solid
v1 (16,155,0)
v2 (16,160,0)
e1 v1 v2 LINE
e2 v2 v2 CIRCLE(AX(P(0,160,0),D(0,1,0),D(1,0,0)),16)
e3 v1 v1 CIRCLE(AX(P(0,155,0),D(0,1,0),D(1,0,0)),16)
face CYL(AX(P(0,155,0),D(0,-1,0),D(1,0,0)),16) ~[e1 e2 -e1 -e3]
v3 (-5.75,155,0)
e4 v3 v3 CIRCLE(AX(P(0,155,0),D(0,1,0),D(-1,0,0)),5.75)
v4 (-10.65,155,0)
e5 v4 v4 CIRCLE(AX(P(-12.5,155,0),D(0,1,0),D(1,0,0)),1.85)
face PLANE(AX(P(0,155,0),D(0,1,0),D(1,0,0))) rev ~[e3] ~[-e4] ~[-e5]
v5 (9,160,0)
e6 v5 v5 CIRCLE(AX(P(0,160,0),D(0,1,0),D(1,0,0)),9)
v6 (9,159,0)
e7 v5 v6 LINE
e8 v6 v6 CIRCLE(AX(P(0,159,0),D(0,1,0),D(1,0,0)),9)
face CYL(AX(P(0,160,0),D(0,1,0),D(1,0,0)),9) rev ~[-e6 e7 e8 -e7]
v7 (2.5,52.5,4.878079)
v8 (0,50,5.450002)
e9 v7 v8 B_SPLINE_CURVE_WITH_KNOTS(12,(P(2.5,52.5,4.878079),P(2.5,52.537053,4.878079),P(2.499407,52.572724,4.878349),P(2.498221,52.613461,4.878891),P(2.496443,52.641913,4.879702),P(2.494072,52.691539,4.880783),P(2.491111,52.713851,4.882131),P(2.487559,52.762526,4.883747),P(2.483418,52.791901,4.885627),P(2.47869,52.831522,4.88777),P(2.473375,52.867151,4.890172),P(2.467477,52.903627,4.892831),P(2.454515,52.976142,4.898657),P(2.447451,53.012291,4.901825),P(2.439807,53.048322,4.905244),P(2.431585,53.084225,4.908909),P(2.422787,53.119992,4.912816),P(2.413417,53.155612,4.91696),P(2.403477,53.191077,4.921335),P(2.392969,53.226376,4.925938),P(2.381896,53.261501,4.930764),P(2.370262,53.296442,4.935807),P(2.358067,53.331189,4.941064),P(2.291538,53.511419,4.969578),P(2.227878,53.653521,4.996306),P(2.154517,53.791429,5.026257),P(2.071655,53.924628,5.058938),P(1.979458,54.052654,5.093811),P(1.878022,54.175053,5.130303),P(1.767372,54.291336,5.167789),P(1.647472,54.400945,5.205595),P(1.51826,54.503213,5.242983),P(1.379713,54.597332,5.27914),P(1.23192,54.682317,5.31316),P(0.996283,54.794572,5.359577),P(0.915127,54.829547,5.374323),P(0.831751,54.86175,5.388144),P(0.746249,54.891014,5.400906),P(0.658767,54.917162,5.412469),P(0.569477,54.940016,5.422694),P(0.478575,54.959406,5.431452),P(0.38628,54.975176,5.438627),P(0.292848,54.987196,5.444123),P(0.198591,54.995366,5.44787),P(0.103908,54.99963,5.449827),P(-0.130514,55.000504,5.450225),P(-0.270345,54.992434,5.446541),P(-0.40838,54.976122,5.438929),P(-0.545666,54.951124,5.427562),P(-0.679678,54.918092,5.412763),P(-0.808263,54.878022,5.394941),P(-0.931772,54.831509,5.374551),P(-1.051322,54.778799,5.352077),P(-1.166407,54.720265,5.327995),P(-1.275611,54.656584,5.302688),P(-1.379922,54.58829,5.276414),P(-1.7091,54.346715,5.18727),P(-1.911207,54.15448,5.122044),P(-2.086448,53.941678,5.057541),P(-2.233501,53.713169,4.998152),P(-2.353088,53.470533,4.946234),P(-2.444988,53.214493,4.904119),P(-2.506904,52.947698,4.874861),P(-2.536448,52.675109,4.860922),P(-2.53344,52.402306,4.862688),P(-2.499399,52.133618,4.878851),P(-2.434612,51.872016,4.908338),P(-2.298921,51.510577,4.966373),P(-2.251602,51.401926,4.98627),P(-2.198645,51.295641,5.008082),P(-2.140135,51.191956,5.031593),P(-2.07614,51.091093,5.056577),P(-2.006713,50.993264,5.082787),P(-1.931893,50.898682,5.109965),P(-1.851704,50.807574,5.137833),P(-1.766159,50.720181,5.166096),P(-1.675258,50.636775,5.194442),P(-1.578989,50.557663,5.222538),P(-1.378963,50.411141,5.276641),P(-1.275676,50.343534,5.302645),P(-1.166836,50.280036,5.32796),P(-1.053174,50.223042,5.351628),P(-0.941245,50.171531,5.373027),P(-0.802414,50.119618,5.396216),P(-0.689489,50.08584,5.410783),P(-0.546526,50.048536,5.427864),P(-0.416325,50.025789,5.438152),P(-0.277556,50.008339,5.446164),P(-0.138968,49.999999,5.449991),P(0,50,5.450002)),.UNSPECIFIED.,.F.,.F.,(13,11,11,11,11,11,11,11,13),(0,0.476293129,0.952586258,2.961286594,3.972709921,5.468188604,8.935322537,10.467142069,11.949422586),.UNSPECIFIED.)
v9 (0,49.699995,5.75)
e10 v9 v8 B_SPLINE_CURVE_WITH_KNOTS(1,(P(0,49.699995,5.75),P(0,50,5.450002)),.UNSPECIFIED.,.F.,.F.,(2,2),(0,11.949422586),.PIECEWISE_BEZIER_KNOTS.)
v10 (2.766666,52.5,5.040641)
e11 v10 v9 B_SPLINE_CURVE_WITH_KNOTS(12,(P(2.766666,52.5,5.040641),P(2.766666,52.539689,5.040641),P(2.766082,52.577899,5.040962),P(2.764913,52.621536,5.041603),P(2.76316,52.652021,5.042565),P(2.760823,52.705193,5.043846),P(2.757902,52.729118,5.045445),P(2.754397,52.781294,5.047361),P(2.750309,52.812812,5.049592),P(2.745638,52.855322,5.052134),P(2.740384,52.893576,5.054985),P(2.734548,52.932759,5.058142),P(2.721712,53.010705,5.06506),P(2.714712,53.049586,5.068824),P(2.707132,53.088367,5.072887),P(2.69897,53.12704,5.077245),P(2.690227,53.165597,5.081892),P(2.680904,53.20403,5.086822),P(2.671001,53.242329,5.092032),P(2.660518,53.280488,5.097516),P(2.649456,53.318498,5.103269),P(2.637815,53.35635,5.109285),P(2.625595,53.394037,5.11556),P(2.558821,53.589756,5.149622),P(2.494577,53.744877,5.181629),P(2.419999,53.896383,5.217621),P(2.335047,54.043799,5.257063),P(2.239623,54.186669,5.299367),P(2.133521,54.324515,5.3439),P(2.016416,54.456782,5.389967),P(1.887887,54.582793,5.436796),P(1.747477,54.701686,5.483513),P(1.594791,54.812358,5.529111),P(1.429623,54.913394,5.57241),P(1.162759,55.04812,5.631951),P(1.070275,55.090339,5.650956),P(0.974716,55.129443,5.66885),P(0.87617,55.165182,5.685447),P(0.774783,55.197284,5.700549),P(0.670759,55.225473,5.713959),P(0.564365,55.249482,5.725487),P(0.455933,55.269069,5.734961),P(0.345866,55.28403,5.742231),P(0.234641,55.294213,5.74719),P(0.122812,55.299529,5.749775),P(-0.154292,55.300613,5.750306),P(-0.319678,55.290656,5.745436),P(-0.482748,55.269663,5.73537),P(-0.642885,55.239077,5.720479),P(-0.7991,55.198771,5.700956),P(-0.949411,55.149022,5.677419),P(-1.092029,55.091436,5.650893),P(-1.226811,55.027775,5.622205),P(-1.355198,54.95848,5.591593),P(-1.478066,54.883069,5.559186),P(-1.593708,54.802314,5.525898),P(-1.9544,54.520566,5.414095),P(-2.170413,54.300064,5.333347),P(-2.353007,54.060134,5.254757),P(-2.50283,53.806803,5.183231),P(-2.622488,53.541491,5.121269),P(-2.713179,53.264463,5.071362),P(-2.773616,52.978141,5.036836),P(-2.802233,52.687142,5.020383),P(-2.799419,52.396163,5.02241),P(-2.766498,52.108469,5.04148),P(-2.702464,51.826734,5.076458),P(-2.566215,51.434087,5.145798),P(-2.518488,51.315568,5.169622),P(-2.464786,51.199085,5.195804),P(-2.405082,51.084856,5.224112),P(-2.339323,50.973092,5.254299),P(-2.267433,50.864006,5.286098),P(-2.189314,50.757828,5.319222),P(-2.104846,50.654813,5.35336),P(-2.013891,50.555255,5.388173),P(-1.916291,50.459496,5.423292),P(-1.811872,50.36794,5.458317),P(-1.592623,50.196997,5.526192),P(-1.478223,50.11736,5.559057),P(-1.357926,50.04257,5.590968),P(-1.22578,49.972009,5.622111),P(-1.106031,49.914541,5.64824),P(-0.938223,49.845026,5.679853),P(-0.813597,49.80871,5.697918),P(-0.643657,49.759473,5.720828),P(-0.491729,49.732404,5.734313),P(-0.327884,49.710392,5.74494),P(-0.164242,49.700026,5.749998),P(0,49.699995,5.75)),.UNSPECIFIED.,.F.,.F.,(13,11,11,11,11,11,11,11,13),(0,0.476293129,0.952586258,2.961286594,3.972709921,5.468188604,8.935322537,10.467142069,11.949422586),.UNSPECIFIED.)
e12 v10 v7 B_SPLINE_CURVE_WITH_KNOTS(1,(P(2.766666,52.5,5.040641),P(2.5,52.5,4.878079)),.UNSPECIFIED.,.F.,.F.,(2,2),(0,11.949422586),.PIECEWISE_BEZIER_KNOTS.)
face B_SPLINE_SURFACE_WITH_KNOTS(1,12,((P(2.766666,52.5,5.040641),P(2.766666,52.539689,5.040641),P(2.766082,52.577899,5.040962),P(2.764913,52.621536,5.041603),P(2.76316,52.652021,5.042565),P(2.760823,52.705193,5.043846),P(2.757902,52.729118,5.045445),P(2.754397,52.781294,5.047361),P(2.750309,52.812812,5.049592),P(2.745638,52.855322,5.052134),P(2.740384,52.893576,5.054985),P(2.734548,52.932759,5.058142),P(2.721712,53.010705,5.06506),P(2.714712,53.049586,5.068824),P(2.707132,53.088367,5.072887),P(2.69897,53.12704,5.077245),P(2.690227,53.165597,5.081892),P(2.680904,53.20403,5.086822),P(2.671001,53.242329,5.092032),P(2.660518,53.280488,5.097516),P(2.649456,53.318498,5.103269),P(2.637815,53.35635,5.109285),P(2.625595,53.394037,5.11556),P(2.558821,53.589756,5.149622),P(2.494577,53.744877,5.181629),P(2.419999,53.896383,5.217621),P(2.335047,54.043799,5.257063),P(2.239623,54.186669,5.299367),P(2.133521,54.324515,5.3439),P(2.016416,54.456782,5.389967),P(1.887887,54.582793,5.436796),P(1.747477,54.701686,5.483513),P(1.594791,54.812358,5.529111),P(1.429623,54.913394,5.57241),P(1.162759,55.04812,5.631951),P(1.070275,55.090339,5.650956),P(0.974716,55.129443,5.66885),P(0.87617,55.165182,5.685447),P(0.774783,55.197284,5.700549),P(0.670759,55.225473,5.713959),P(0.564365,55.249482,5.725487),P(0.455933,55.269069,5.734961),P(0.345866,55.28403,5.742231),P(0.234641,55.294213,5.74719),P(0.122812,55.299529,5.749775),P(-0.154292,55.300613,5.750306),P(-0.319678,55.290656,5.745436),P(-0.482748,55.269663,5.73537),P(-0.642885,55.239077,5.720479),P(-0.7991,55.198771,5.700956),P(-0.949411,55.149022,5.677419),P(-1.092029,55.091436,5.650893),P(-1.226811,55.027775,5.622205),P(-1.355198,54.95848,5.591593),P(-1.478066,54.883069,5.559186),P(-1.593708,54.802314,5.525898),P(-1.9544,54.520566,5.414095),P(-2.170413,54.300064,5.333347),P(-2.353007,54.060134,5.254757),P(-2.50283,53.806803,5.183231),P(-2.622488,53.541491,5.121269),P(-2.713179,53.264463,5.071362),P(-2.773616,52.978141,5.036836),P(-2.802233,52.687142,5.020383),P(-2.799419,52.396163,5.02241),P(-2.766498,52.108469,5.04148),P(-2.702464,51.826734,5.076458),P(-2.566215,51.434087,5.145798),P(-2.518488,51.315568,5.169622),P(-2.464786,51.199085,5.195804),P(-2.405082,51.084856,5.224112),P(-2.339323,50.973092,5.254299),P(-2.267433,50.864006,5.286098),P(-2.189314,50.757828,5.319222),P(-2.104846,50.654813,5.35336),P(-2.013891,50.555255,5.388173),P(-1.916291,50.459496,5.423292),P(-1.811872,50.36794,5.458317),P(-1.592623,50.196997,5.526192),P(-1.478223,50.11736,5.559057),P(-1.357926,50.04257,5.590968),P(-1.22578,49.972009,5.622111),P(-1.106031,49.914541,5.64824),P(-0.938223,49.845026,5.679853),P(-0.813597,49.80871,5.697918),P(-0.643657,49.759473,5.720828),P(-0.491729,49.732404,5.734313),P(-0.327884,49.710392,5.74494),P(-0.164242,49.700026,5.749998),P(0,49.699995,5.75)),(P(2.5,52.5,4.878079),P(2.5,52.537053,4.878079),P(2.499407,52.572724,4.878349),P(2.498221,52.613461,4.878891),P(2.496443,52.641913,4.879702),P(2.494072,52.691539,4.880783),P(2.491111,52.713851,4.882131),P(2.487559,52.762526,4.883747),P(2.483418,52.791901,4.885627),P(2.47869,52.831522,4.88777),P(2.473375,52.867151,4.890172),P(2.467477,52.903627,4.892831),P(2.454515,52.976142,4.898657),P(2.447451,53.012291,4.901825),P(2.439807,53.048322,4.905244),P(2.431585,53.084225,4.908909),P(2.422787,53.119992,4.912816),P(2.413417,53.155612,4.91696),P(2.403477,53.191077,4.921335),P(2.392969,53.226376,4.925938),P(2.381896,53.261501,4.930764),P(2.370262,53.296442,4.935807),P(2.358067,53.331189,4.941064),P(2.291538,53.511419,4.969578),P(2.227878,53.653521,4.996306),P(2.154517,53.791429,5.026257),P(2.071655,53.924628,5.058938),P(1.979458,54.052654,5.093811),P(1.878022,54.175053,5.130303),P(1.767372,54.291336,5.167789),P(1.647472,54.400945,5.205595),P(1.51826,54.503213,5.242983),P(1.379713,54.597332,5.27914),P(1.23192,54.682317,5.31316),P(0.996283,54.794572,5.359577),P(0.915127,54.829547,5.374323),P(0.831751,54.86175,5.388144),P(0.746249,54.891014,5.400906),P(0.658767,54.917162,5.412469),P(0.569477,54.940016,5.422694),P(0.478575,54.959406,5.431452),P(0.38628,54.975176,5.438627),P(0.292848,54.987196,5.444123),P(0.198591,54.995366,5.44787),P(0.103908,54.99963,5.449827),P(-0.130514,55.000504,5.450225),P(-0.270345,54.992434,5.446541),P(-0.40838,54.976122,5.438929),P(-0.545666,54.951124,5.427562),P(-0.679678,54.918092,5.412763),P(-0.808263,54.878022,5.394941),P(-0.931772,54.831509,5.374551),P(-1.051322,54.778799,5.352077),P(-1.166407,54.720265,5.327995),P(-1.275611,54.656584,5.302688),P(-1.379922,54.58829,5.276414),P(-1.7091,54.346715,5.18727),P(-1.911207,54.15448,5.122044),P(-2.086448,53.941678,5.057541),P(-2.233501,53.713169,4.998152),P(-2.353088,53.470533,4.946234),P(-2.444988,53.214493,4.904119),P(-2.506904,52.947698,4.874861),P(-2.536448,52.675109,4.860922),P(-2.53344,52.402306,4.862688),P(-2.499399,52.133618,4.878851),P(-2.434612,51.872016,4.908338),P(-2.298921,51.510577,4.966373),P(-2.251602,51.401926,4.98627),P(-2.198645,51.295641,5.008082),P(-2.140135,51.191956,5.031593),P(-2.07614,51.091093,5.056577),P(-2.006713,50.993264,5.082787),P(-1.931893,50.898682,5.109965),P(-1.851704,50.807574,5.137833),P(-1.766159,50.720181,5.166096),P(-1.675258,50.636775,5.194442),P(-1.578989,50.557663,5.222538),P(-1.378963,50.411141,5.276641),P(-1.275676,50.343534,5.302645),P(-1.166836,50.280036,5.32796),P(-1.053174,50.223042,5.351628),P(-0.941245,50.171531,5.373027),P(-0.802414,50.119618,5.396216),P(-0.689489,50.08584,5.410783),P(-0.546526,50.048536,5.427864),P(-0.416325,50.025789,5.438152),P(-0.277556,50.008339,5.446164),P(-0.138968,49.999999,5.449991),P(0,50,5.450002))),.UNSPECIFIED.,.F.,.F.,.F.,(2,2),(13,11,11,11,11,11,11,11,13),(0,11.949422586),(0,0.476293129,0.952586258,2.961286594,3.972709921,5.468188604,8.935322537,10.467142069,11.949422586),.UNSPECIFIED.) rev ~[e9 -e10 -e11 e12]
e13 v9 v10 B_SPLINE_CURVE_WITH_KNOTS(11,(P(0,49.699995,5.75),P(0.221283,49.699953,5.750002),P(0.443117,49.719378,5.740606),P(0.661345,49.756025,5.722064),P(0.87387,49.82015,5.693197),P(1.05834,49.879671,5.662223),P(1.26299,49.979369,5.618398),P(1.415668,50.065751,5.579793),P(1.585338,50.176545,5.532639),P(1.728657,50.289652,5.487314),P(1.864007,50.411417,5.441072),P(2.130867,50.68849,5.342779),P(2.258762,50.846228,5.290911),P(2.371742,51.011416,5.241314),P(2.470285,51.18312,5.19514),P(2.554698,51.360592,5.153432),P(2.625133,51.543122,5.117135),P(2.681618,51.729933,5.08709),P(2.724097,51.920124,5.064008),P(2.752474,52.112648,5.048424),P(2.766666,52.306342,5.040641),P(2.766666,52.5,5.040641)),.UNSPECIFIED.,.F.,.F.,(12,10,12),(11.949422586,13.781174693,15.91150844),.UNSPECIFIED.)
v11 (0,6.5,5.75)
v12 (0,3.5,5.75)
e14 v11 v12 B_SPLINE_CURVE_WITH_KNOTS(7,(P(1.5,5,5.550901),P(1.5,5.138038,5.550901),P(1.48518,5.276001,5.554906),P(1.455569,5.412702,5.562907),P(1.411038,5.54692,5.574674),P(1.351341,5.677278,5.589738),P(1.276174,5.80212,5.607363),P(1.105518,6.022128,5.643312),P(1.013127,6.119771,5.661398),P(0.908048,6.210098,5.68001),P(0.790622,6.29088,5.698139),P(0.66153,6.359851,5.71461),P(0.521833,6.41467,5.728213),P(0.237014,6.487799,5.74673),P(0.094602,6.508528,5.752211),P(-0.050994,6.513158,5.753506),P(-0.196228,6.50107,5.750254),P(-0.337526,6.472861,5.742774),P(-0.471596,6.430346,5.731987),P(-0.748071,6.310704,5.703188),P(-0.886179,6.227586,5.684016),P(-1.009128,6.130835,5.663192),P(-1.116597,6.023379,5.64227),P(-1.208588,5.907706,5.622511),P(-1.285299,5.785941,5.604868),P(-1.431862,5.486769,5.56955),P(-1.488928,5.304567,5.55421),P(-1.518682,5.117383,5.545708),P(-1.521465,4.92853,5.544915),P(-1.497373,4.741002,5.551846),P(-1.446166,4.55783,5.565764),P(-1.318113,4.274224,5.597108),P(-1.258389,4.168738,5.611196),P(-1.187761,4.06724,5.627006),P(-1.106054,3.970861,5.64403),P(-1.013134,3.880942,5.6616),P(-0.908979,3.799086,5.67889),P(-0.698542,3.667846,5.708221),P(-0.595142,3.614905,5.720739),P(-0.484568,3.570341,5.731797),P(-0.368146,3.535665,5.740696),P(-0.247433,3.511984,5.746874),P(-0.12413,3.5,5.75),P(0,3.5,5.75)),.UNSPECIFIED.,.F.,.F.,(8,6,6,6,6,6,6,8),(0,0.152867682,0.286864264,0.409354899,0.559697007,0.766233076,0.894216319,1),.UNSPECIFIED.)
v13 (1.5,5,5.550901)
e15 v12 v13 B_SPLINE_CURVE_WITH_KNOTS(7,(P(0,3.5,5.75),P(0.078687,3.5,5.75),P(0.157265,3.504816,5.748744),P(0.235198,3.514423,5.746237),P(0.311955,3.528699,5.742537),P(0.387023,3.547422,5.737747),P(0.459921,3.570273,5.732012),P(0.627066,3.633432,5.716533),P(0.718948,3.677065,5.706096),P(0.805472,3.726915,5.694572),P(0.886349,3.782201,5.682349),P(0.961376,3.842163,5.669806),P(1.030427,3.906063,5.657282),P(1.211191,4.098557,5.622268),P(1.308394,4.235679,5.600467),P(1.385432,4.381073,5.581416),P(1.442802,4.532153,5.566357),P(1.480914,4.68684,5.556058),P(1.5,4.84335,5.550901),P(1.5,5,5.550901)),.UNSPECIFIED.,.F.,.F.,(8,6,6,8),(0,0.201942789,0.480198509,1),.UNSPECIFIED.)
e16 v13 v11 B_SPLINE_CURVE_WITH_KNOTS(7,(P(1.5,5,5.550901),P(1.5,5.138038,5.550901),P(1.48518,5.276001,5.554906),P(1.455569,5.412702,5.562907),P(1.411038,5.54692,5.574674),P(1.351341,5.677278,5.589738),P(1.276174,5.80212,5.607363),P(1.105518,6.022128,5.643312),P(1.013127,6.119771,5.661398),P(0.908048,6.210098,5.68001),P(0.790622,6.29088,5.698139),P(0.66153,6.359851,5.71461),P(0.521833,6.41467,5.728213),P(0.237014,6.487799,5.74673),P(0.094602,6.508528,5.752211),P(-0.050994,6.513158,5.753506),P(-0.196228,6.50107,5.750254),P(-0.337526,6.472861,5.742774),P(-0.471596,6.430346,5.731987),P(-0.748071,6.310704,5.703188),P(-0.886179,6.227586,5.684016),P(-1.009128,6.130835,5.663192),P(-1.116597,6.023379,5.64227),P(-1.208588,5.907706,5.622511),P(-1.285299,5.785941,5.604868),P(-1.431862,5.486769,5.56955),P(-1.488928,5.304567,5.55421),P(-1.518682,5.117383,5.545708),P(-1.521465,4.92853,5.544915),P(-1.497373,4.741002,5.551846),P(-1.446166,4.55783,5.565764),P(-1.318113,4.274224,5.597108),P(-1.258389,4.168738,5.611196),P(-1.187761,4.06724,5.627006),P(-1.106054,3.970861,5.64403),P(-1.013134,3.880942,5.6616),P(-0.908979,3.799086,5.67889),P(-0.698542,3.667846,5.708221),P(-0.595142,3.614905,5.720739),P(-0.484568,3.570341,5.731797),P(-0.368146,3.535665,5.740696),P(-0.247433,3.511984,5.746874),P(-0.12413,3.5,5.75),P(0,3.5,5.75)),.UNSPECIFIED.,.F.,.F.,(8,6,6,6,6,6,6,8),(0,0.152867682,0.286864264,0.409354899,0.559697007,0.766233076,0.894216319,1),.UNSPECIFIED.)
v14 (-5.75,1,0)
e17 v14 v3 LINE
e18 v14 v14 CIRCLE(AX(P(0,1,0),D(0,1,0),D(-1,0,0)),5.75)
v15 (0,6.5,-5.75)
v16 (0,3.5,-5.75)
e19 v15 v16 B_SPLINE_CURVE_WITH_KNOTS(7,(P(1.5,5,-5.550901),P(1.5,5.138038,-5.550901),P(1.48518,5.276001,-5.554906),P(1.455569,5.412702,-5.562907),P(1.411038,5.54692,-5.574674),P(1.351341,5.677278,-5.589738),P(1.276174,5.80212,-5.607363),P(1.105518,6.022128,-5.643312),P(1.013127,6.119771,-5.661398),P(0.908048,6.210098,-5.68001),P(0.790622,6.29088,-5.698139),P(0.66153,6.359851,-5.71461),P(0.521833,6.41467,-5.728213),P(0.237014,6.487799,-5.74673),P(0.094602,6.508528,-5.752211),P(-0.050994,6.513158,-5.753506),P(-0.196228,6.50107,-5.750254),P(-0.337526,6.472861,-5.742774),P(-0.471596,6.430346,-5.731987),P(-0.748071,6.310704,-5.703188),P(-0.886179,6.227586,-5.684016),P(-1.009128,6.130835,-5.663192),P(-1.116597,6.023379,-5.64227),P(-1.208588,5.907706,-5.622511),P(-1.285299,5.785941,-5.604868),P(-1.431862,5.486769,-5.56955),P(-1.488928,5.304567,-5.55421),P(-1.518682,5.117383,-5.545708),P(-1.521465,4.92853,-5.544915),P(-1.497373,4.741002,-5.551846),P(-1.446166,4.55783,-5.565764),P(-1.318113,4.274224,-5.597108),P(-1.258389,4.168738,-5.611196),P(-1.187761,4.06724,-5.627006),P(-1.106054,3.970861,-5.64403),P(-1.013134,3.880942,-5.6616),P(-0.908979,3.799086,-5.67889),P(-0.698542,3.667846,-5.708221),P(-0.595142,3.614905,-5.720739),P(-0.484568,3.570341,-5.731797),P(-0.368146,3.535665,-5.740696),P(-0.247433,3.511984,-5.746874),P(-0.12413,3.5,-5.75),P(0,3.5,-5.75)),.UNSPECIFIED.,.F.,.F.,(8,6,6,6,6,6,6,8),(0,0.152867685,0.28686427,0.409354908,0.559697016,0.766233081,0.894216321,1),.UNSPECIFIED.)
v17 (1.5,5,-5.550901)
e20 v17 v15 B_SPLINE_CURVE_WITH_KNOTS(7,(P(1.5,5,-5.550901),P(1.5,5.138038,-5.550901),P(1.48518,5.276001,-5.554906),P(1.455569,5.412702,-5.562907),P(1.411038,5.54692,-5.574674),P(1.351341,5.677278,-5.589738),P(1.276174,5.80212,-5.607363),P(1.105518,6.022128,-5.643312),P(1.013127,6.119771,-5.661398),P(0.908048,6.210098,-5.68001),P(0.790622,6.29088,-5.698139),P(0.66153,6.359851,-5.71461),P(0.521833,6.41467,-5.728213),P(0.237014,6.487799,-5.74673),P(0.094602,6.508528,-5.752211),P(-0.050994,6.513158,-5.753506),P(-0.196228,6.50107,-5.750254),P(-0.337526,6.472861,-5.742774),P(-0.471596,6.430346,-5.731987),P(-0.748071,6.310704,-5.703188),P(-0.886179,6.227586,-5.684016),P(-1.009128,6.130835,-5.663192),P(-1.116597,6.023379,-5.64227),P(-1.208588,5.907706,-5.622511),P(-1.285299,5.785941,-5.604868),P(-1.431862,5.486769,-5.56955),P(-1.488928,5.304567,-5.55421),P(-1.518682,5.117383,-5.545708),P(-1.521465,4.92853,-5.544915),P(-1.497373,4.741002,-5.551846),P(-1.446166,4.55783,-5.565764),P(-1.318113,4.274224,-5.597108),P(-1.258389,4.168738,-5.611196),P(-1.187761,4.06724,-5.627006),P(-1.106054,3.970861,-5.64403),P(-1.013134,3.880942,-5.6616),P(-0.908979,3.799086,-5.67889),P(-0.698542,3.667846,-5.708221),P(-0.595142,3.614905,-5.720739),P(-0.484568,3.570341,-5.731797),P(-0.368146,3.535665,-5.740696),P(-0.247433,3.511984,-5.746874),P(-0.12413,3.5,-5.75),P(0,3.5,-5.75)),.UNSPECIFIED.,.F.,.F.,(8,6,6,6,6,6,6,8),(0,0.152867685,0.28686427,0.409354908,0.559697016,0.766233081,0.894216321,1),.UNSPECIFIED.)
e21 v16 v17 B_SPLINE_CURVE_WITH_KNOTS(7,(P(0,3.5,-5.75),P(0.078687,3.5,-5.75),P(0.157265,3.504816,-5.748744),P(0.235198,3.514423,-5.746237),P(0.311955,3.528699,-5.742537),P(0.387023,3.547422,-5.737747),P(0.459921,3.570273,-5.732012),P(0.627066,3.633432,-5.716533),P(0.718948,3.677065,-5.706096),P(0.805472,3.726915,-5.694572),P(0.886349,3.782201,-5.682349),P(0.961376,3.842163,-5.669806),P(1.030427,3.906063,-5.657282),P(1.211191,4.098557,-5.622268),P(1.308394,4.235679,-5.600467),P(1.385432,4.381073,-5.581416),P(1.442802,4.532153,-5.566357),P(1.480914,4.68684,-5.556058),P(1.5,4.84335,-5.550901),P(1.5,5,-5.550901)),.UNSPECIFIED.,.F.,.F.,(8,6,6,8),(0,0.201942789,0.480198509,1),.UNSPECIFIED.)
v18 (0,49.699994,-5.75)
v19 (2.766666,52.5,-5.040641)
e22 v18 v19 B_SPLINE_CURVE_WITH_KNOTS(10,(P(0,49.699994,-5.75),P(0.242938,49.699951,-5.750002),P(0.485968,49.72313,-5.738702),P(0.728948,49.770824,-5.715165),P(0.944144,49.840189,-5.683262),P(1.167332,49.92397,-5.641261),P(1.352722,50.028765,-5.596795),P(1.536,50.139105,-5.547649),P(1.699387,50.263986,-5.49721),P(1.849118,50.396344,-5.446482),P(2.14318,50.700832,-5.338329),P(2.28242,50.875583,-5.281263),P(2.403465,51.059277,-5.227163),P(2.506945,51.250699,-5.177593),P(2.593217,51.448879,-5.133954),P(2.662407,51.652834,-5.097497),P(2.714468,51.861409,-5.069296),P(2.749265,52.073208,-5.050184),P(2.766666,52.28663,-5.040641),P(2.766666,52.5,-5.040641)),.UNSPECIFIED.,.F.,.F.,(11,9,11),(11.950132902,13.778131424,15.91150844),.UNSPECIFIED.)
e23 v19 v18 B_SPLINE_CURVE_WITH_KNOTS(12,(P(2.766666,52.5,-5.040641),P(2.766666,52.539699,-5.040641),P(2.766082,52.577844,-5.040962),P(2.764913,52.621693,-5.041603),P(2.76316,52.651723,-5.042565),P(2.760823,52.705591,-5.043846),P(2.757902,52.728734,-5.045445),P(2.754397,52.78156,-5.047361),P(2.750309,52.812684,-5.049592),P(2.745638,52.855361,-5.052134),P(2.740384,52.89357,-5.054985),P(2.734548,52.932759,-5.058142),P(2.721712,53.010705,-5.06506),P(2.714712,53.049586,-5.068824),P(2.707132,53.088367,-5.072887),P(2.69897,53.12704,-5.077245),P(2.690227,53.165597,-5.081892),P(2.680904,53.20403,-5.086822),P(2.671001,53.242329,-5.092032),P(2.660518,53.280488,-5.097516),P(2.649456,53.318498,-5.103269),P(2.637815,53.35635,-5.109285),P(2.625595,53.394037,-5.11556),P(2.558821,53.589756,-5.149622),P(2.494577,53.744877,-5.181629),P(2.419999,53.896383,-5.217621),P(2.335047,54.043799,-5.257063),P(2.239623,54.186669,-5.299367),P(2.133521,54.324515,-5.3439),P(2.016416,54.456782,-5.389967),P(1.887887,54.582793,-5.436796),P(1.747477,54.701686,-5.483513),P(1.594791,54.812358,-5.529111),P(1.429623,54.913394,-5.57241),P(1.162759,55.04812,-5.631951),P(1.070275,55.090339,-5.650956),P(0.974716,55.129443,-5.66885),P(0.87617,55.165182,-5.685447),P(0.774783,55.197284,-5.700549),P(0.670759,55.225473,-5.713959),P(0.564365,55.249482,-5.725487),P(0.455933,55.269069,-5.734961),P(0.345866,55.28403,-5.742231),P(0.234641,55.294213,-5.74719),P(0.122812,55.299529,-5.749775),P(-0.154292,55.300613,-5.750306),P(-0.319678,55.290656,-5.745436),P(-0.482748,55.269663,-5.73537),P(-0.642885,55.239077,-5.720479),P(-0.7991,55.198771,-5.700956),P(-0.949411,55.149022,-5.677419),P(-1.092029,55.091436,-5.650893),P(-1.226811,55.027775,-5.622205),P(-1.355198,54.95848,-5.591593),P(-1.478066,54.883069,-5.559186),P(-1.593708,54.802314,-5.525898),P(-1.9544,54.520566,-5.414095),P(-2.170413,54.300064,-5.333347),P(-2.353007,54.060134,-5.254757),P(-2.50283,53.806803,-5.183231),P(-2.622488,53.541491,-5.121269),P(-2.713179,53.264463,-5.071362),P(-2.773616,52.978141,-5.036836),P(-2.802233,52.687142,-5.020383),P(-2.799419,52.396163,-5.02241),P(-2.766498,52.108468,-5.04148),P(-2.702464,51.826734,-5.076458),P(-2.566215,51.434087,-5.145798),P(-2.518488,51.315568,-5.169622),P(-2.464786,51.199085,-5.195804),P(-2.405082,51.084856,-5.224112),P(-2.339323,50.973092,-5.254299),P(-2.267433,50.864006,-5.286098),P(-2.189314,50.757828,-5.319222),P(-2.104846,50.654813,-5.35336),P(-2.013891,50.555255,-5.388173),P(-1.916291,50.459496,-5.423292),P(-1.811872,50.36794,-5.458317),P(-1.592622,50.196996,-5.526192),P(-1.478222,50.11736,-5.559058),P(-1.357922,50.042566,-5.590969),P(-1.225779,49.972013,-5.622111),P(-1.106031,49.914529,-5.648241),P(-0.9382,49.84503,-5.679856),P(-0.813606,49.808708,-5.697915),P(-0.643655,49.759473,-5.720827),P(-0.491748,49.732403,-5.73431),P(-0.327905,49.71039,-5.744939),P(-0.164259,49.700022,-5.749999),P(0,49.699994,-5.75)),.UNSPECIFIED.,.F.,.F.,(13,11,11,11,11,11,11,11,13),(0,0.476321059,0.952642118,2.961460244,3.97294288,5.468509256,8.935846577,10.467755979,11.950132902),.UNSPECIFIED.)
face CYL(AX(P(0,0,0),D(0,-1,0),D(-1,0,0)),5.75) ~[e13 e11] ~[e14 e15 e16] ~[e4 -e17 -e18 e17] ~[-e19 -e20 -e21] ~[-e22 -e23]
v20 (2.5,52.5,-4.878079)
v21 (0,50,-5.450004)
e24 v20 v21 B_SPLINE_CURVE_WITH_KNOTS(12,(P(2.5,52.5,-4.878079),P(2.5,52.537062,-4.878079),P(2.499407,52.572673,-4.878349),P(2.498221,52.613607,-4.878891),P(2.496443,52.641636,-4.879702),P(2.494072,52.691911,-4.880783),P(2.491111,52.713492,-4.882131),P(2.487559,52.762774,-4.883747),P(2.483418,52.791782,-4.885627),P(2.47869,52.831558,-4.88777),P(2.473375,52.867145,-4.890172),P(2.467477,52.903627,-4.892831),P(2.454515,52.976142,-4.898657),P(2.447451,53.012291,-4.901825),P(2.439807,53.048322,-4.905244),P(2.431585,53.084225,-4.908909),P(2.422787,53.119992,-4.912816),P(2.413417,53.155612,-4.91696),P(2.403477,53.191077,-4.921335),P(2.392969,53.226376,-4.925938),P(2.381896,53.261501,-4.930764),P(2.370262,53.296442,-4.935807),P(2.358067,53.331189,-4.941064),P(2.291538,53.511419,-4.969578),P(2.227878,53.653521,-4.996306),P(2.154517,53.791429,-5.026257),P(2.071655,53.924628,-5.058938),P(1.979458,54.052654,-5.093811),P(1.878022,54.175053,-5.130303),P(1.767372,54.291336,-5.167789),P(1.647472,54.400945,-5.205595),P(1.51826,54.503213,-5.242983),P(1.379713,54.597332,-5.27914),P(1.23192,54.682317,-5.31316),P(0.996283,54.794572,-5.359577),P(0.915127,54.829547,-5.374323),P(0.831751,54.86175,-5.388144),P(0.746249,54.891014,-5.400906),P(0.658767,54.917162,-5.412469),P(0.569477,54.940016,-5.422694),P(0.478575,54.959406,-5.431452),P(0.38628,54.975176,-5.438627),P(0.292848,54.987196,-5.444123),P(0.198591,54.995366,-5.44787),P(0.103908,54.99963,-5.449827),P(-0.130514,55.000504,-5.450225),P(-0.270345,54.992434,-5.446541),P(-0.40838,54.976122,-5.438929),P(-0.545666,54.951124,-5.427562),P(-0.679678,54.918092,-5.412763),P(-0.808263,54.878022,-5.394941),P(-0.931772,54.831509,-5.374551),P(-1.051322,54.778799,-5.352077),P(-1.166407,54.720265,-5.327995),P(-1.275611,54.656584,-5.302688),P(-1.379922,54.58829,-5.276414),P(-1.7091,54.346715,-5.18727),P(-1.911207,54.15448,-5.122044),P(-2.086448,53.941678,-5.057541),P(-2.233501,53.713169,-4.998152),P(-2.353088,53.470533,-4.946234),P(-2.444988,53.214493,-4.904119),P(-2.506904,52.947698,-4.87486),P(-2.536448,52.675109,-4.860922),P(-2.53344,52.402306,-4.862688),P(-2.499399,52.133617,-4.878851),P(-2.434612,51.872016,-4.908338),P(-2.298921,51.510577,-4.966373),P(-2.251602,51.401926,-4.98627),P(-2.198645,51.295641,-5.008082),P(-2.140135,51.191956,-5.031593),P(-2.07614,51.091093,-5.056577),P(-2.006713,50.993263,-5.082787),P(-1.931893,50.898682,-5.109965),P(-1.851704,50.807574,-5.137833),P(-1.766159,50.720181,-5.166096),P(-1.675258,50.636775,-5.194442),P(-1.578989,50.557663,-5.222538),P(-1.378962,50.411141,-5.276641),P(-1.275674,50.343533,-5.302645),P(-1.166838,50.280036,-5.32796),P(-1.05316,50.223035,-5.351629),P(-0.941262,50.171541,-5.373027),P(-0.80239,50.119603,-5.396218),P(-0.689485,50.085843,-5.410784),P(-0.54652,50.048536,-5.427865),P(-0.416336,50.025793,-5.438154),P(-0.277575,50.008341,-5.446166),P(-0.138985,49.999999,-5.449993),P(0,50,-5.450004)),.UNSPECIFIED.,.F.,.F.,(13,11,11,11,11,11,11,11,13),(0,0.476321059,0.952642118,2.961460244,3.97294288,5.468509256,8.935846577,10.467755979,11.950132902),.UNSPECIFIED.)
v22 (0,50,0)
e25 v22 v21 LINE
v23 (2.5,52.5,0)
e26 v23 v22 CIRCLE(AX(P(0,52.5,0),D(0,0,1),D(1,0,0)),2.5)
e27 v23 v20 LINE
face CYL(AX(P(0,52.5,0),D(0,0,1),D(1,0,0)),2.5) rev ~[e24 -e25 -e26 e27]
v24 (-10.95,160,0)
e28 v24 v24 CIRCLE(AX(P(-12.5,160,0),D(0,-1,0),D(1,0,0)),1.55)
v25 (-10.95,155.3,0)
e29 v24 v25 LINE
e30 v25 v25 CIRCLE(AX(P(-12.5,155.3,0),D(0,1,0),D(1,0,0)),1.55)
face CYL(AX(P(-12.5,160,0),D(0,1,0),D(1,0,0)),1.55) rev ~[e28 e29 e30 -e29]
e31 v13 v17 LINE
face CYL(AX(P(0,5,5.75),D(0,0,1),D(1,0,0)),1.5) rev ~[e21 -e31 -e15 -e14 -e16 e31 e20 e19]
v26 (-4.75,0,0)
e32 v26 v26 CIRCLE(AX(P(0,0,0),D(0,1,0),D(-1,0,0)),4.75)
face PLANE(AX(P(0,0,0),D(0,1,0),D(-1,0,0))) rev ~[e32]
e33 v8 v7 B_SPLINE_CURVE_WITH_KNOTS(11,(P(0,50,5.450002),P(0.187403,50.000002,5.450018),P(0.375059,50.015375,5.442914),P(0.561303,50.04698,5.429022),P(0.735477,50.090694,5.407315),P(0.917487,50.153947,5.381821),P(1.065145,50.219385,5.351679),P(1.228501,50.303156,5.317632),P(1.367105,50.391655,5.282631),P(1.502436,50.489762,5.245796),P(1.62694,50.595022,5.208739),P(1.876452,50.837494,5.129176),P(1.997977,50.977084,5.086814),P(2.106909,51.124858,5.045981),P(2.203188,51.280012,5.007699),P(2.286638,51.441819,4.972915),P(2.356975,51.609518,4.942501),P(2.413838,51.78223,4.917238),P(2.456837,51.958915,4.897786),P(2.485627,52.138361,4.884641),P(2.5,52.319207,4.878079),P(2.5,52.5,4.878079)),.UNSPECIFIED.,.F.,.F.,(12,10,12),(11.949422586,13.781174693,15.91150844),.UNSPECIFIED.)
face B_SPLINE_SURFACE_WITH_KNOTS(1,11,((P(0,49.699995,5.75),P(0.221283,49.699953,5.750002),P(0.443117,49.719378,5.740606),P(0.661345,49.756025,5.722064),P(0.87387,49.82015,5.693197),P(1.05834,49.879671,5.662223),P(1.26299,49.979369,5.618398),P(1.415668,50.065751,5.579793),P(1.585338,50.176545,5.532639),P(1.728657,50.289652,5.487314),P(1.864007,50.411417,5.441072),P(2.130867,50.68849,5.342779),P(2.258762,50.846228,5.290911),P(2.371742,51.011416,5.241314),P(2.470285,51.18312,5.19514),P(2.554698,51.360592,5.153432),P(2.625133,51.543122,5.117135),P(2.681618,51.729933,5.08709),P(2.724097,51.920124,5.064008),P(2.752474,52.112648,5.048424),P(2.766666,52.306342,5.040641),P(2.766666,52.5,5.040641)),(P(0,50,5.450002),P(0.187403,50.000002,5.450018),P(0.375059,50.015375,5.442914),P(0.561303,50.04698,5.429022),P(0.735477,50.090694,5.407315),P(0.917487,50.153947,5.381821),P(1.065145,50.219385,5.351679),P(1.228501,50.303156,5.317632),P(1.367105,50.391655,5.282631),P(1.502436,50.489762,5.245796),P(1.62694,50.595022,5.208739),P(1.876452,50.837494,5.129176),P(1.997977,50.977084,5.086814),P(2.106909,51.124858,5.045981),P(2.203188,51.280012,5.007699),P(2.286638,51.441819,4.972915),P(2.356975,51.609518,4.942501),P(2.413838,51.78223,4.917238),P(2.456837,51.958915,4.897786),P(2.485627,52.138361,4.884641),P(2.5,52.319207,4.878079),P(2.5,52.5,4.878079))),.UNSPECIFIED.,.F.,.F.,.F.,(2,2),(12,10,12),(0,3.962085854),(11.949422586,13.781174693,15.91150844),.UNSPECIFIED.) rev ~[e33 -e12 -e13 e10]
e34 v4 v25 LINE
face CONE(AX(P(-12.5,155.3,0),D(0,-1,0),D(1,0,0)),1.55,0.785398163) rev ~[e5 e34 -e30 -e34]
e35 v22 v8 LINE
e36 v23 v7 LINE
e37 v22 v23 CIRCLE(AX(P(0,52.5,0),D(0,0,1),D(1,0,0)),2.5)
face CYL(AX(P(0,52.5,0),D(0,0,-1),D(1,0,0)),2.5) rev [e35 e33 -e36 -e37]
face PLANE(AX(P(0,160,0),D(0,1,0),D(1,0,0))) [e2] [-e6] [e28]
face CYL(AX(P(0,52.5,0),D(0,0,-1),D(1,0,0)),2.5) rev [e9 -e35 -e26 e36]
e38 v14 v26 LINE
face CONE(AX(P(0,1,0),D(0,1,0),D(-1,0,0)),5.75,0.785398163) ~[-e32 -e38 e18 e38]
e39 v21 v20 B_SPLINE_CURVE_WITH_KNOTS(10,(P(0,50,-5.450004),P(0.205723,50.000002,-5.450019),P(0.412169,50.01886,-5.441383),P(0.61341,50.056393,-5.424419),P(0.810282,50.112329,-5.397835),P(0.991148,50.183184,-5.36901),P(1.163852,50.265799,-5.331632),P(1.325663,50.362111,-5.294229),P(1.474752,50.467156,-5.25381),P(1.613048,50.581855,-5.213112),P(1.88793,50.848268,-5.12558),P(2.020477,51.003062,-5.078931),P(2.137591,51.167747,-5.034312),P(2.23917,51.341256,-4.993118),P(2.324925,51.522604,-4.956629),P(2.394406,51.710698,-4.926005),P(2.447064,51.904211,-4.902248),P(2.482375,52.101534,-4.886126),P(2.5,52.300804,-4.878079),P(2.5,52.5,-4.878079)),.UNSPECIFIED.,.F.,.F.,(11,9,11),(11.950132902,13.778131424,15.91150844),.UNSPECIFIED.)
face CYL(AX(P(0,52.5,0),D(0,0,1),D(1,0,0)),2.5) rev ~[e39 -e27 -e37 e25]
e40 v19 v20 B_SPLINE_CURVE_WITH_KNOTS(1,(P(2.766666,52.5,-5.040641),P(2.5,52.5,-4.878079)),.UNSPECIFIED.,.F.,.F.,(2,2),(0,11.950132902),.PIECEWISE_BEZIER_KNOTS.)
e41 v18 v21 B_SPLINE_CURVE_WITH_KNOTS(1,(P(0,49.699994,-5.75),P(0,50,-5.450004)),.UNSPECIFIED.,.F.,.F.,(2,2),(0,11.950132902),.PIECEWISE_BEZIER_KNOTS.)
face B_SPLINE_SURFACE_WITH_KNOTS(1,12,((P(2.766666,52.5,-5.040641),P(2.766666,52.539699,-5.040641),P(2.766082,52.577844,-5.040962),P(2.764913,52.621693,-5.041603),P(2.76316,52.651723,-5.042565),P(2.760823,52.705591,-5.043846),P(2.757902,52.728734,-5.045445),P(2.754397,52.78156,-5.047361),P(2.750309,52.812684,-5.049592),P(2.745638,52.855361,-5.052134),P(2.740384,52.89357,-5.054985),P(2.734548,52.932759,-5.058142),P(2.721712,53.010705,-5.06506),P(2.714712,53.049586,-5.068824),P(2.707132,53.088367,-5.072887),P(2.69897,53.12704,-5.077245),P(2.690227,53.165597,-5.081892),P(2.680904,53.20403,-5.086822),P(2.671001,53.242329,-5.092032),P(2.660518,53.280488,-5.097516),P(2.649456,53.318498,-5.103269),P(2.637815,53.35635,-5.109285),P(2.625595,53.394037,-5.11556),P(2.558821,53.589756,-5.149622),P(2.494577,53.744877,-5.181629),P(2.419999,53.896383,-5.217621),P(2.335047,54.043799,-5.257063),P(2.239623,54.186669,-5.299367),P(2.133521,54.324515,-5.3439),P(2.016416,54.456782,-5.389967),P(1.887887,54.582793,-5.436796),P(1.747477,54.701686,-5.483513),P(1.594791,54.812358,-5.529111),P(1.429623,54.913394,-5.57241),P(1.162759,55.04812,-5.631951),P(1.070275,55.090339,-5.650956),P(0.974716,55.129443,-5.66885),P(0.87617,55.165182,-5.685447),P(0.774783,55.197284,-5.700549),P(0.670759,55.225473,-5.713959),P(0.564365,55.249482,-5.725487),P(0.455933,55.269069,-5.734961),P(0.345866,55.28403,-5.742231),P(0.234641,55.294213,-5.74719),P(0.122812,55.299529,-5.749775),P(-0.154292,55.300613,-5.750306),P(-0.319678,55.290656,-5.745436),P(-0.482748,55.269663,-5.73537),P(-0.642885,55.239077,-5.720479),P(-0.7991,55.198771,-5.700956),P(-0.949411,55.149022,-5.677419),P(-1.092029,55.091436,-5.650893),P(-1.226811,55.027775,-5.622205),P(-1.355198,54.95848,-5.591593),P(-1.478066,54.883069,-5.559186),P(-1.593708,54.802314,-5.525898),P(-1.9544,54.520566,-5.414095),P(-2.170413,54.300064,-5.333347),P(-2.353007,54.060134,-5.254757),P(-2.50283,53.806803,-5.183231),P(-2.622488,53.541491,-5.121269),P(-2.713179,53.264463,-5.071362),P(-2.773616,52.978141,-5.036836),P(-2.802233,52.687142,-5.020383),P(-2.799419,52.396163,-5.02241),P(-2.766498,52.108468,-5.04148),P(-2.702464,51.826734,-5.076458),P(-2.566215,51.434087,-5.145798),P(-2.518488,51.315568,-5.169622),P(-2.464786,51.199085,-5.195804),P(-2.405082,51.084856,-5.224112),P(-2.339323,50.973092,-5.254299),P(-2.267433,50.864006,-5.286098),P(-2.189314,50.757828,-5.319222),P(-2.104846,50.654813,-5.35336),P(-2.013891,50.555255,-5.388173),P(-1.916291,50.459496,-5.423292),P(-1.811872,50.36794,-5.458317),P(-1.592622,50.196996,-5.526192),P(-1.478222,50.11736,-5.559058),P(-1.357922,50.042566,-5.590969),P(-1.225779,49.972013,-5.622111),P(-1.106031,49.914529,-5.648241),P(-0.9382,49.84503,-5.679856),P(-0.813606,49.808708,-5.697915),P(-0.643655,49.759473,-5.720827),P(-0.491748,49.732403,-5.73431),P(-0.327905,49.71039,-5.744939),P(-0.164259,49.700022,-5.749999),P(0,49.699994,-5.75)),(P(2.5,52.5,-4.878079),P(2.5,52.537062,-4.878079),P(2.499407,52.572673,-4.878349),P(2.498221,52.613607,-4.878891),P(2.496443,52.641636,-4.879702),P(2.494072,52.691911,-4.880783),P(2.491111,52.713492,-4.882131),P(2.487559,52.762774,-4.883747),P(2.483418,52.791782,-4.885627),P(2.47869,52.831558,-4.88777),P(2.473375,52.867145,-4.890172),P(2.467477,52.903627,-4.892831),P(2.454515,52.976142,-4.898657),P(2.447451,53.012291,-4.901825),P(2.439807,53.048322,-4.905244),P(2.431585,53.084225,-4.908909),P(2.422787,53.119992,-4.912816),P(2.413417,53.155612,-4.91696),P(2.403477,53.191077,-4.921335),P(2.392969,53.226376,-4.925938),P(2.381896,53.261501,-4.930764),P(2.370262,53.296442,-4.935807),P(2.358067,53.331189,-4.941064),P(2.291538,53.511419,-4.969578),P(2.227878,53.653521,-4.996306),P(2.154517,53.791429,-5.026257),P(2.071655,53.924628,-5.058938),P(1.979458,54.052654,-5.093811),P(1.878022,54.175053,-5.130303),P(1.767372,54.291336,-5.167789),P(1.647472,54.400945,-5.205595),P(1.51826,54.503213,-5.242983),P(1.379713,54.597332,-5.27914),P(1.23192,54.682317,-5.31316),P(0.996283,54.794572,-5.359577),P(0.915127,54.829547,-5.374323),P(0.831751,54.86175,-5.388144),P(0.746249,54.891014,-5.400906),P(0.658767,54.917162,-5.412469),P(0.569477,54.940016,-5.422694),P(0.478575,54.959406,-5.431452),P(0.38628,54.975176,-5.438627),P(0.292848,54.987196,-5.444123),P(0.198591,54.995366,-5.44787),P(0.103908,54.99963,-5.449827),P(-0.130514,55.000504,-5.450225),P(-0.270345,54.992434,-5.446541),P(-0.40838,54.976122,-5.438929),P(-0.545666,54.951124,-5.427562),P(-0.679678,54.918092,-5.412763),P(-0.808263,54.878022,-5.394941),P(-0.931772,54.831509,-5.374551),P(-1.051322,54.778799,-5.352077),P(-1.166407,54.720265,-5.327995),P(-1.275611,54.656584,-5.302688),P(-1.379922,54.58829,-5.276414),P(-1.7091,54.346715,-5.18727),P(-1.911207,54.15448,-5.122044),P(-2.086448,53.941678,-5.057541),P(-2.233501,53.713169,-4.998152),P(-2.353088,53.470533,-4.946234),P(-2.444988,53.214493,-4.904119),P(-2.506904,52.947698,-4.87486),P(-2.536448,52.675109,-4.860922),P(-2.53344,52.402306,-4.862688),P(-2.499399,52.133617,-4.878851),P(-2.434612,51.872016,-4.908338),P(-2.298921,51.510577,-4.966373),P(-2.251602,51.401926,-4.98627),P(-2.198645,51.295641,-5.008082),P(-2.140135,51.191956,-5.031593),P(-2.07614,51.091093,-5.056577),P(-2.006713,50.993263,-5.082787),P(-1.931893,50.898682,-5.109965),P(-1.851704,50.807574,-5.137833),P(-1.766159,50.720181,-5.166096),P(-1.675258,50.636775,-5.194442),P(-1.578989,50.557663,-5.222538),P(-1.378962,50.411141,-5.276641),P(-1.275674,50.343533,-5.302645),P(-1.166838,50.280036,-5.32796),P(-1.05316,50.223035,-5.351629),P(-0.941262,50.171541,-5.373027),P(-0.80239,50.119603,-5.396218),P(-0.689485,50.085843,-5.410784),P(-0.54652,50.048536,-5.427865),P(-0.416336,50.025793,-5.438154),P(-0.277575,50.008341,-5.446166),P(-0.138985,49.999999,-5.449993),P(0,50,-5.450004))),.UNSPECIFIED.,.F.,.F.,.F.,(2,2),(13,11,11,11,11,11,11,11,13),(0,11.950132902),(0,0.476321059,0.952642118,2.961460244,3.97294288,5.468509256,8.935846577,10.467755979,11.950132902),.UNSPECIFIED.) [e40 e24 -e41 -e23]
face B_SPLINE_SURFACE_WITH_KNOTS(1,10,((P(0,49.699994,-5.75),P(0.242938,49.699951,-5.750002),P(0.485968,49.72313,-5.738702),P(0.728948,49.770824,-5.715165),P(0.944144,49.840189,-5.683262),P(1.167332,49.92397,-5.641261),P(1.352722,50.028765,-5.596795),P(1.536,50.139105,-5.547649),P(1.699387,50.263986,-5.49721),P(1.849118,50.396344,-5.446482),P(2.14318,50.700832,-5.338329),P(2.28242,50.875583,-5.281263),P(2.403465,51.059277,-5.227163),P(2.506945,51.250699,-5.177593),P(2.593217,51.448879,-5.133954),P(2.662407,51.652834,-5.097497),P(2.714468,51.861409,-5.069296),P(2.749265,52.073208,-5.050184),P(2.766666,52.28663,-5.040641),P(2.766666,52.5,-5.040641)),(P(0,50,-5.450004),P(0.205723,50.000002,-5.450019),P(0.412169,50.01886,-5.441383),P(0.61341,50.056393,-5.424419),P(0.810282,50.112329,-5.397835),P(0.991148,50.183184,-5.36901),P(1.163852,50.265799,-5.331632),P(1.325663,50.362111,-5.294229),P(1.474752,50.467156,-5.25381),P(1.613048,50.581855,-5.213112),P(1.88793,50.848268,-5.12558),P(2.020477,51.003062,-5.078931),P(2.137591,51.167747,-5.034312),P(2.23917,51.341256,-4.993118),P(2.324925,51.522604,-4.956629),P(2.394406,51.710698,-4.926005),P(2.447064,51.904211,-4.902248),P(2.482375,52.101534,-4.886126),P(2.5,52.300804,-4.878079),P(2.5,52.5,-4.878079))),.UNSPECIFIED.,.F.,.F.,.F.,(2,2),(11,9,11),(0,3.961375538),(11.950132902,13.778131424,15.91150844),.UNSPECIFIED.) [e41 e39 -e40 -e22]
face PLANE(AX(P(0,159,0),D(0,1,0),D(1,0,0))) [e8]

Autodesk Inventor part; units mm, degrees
ref_plane "YZ Plane" through (0, 0, 0) normal (1, 0, 0) x (0, 1, 0)
ref_plane "XZ Plane" through (0, 0, 0) normal (0, 1, 0) x (-1, 0, 0)
sketch "Sketch1" plane through (0, 0, 0) normal (0, 1, 0) x (-1, 0, 0)
  circle A0 centre (0, 0) radius 5.75
  dimension "d0" = 11.5
extrude "Extrusion1" add sketch "Sketch1" along normal blind 155
sketch "Sketch2" plane through (0, 155, 0) normal (0, 1, 0) x (1, 0, 0)
  circle A0 centre (0, 0) radius 16
  dimension "d3" = 32
extrude "Extrusion2" add sketch "Sketch2" along normal blind 5
sketch "Sketch3" plane through (0, 160, 0) normal (0, 1, 0) x (1, 0, 0)
  circle A0 centre (0, 0) radius 9
  dimension "d6" = 18
extrude "Extrusion3" cut sketch "Sketch3" against normal blind 1
ref_plane "Work Plane1" through (0, 0, 5.75) normal (0, 0, 1) x (1, 0, 0)
sketch "Sketch4" plane through (0, 0, 5.75) normal (0, 0, 1) x (1, 0, 0)
  line L0 (5.75, 155) -> (-5.75, 155) projected
  line L1 (5.75, 0) -> (-5.75, 0) projected
  line L2 (0, 0) -> (0, 5)
  circle A0 centre (0, 5) radius 1.5
  dimension "d9" = 5
  dimension "d10" = 3
extrude "Extrusion4" cut sketch "Sketch4" against normal blind 11.5
chamfer "Chamfer1" distance 1 angle 45 1 edges at (5.75, 0, 0)
sketch "Sketch5" plane through (0, 0, 0) normal (0, 0, 1) x (1, 0, 0)
  line L0 (0, 0) -> (0, 42.5)
  line L1 (0, 42.5) -> (0, 32.5)
  line L2 (0, 42.5) -> (0, 52.5)
  circle A0 centre (0, 52.5) radius 2.5
  dimension "d16" = 42.5
  dimension "d17" = 10
  dimension "d18" = 10
  dimension "d19" = 5
extrude "Extrusion5" cut sketch "Sketch5" along normal mid plane 13
sketch "Sketch6" plane through (0, 160, 0) normal (0, 1, 0) x (1, 0, 0)
  circle A0 centre (0, 0) radius 16 projected
  line L0 (-16, 0) -> (-9, 0)
  circle A1 centre (0, 0) radius 9 projected
  circle A2 centre (-12.5, 0) radius 1.55
  dimension "d22" = 3.1
extrude "Extrusion6" cut sketch "Sketch6" against normal up to surface (5 mm away) contours A2 L0 | L0 A2
chamfer "Chamfer2" distance 0.3 angle 45 1 edges at (-14.05, 155, 0)
chamfer "Chamfer3" distance 0.3 angle 45 2 edges at (-2.5, 52.5, 5.1781) (-2.5, 52.5, -5.1781)
properties part number "wał_hamulca_dlugi" material "ABS Plastic"
